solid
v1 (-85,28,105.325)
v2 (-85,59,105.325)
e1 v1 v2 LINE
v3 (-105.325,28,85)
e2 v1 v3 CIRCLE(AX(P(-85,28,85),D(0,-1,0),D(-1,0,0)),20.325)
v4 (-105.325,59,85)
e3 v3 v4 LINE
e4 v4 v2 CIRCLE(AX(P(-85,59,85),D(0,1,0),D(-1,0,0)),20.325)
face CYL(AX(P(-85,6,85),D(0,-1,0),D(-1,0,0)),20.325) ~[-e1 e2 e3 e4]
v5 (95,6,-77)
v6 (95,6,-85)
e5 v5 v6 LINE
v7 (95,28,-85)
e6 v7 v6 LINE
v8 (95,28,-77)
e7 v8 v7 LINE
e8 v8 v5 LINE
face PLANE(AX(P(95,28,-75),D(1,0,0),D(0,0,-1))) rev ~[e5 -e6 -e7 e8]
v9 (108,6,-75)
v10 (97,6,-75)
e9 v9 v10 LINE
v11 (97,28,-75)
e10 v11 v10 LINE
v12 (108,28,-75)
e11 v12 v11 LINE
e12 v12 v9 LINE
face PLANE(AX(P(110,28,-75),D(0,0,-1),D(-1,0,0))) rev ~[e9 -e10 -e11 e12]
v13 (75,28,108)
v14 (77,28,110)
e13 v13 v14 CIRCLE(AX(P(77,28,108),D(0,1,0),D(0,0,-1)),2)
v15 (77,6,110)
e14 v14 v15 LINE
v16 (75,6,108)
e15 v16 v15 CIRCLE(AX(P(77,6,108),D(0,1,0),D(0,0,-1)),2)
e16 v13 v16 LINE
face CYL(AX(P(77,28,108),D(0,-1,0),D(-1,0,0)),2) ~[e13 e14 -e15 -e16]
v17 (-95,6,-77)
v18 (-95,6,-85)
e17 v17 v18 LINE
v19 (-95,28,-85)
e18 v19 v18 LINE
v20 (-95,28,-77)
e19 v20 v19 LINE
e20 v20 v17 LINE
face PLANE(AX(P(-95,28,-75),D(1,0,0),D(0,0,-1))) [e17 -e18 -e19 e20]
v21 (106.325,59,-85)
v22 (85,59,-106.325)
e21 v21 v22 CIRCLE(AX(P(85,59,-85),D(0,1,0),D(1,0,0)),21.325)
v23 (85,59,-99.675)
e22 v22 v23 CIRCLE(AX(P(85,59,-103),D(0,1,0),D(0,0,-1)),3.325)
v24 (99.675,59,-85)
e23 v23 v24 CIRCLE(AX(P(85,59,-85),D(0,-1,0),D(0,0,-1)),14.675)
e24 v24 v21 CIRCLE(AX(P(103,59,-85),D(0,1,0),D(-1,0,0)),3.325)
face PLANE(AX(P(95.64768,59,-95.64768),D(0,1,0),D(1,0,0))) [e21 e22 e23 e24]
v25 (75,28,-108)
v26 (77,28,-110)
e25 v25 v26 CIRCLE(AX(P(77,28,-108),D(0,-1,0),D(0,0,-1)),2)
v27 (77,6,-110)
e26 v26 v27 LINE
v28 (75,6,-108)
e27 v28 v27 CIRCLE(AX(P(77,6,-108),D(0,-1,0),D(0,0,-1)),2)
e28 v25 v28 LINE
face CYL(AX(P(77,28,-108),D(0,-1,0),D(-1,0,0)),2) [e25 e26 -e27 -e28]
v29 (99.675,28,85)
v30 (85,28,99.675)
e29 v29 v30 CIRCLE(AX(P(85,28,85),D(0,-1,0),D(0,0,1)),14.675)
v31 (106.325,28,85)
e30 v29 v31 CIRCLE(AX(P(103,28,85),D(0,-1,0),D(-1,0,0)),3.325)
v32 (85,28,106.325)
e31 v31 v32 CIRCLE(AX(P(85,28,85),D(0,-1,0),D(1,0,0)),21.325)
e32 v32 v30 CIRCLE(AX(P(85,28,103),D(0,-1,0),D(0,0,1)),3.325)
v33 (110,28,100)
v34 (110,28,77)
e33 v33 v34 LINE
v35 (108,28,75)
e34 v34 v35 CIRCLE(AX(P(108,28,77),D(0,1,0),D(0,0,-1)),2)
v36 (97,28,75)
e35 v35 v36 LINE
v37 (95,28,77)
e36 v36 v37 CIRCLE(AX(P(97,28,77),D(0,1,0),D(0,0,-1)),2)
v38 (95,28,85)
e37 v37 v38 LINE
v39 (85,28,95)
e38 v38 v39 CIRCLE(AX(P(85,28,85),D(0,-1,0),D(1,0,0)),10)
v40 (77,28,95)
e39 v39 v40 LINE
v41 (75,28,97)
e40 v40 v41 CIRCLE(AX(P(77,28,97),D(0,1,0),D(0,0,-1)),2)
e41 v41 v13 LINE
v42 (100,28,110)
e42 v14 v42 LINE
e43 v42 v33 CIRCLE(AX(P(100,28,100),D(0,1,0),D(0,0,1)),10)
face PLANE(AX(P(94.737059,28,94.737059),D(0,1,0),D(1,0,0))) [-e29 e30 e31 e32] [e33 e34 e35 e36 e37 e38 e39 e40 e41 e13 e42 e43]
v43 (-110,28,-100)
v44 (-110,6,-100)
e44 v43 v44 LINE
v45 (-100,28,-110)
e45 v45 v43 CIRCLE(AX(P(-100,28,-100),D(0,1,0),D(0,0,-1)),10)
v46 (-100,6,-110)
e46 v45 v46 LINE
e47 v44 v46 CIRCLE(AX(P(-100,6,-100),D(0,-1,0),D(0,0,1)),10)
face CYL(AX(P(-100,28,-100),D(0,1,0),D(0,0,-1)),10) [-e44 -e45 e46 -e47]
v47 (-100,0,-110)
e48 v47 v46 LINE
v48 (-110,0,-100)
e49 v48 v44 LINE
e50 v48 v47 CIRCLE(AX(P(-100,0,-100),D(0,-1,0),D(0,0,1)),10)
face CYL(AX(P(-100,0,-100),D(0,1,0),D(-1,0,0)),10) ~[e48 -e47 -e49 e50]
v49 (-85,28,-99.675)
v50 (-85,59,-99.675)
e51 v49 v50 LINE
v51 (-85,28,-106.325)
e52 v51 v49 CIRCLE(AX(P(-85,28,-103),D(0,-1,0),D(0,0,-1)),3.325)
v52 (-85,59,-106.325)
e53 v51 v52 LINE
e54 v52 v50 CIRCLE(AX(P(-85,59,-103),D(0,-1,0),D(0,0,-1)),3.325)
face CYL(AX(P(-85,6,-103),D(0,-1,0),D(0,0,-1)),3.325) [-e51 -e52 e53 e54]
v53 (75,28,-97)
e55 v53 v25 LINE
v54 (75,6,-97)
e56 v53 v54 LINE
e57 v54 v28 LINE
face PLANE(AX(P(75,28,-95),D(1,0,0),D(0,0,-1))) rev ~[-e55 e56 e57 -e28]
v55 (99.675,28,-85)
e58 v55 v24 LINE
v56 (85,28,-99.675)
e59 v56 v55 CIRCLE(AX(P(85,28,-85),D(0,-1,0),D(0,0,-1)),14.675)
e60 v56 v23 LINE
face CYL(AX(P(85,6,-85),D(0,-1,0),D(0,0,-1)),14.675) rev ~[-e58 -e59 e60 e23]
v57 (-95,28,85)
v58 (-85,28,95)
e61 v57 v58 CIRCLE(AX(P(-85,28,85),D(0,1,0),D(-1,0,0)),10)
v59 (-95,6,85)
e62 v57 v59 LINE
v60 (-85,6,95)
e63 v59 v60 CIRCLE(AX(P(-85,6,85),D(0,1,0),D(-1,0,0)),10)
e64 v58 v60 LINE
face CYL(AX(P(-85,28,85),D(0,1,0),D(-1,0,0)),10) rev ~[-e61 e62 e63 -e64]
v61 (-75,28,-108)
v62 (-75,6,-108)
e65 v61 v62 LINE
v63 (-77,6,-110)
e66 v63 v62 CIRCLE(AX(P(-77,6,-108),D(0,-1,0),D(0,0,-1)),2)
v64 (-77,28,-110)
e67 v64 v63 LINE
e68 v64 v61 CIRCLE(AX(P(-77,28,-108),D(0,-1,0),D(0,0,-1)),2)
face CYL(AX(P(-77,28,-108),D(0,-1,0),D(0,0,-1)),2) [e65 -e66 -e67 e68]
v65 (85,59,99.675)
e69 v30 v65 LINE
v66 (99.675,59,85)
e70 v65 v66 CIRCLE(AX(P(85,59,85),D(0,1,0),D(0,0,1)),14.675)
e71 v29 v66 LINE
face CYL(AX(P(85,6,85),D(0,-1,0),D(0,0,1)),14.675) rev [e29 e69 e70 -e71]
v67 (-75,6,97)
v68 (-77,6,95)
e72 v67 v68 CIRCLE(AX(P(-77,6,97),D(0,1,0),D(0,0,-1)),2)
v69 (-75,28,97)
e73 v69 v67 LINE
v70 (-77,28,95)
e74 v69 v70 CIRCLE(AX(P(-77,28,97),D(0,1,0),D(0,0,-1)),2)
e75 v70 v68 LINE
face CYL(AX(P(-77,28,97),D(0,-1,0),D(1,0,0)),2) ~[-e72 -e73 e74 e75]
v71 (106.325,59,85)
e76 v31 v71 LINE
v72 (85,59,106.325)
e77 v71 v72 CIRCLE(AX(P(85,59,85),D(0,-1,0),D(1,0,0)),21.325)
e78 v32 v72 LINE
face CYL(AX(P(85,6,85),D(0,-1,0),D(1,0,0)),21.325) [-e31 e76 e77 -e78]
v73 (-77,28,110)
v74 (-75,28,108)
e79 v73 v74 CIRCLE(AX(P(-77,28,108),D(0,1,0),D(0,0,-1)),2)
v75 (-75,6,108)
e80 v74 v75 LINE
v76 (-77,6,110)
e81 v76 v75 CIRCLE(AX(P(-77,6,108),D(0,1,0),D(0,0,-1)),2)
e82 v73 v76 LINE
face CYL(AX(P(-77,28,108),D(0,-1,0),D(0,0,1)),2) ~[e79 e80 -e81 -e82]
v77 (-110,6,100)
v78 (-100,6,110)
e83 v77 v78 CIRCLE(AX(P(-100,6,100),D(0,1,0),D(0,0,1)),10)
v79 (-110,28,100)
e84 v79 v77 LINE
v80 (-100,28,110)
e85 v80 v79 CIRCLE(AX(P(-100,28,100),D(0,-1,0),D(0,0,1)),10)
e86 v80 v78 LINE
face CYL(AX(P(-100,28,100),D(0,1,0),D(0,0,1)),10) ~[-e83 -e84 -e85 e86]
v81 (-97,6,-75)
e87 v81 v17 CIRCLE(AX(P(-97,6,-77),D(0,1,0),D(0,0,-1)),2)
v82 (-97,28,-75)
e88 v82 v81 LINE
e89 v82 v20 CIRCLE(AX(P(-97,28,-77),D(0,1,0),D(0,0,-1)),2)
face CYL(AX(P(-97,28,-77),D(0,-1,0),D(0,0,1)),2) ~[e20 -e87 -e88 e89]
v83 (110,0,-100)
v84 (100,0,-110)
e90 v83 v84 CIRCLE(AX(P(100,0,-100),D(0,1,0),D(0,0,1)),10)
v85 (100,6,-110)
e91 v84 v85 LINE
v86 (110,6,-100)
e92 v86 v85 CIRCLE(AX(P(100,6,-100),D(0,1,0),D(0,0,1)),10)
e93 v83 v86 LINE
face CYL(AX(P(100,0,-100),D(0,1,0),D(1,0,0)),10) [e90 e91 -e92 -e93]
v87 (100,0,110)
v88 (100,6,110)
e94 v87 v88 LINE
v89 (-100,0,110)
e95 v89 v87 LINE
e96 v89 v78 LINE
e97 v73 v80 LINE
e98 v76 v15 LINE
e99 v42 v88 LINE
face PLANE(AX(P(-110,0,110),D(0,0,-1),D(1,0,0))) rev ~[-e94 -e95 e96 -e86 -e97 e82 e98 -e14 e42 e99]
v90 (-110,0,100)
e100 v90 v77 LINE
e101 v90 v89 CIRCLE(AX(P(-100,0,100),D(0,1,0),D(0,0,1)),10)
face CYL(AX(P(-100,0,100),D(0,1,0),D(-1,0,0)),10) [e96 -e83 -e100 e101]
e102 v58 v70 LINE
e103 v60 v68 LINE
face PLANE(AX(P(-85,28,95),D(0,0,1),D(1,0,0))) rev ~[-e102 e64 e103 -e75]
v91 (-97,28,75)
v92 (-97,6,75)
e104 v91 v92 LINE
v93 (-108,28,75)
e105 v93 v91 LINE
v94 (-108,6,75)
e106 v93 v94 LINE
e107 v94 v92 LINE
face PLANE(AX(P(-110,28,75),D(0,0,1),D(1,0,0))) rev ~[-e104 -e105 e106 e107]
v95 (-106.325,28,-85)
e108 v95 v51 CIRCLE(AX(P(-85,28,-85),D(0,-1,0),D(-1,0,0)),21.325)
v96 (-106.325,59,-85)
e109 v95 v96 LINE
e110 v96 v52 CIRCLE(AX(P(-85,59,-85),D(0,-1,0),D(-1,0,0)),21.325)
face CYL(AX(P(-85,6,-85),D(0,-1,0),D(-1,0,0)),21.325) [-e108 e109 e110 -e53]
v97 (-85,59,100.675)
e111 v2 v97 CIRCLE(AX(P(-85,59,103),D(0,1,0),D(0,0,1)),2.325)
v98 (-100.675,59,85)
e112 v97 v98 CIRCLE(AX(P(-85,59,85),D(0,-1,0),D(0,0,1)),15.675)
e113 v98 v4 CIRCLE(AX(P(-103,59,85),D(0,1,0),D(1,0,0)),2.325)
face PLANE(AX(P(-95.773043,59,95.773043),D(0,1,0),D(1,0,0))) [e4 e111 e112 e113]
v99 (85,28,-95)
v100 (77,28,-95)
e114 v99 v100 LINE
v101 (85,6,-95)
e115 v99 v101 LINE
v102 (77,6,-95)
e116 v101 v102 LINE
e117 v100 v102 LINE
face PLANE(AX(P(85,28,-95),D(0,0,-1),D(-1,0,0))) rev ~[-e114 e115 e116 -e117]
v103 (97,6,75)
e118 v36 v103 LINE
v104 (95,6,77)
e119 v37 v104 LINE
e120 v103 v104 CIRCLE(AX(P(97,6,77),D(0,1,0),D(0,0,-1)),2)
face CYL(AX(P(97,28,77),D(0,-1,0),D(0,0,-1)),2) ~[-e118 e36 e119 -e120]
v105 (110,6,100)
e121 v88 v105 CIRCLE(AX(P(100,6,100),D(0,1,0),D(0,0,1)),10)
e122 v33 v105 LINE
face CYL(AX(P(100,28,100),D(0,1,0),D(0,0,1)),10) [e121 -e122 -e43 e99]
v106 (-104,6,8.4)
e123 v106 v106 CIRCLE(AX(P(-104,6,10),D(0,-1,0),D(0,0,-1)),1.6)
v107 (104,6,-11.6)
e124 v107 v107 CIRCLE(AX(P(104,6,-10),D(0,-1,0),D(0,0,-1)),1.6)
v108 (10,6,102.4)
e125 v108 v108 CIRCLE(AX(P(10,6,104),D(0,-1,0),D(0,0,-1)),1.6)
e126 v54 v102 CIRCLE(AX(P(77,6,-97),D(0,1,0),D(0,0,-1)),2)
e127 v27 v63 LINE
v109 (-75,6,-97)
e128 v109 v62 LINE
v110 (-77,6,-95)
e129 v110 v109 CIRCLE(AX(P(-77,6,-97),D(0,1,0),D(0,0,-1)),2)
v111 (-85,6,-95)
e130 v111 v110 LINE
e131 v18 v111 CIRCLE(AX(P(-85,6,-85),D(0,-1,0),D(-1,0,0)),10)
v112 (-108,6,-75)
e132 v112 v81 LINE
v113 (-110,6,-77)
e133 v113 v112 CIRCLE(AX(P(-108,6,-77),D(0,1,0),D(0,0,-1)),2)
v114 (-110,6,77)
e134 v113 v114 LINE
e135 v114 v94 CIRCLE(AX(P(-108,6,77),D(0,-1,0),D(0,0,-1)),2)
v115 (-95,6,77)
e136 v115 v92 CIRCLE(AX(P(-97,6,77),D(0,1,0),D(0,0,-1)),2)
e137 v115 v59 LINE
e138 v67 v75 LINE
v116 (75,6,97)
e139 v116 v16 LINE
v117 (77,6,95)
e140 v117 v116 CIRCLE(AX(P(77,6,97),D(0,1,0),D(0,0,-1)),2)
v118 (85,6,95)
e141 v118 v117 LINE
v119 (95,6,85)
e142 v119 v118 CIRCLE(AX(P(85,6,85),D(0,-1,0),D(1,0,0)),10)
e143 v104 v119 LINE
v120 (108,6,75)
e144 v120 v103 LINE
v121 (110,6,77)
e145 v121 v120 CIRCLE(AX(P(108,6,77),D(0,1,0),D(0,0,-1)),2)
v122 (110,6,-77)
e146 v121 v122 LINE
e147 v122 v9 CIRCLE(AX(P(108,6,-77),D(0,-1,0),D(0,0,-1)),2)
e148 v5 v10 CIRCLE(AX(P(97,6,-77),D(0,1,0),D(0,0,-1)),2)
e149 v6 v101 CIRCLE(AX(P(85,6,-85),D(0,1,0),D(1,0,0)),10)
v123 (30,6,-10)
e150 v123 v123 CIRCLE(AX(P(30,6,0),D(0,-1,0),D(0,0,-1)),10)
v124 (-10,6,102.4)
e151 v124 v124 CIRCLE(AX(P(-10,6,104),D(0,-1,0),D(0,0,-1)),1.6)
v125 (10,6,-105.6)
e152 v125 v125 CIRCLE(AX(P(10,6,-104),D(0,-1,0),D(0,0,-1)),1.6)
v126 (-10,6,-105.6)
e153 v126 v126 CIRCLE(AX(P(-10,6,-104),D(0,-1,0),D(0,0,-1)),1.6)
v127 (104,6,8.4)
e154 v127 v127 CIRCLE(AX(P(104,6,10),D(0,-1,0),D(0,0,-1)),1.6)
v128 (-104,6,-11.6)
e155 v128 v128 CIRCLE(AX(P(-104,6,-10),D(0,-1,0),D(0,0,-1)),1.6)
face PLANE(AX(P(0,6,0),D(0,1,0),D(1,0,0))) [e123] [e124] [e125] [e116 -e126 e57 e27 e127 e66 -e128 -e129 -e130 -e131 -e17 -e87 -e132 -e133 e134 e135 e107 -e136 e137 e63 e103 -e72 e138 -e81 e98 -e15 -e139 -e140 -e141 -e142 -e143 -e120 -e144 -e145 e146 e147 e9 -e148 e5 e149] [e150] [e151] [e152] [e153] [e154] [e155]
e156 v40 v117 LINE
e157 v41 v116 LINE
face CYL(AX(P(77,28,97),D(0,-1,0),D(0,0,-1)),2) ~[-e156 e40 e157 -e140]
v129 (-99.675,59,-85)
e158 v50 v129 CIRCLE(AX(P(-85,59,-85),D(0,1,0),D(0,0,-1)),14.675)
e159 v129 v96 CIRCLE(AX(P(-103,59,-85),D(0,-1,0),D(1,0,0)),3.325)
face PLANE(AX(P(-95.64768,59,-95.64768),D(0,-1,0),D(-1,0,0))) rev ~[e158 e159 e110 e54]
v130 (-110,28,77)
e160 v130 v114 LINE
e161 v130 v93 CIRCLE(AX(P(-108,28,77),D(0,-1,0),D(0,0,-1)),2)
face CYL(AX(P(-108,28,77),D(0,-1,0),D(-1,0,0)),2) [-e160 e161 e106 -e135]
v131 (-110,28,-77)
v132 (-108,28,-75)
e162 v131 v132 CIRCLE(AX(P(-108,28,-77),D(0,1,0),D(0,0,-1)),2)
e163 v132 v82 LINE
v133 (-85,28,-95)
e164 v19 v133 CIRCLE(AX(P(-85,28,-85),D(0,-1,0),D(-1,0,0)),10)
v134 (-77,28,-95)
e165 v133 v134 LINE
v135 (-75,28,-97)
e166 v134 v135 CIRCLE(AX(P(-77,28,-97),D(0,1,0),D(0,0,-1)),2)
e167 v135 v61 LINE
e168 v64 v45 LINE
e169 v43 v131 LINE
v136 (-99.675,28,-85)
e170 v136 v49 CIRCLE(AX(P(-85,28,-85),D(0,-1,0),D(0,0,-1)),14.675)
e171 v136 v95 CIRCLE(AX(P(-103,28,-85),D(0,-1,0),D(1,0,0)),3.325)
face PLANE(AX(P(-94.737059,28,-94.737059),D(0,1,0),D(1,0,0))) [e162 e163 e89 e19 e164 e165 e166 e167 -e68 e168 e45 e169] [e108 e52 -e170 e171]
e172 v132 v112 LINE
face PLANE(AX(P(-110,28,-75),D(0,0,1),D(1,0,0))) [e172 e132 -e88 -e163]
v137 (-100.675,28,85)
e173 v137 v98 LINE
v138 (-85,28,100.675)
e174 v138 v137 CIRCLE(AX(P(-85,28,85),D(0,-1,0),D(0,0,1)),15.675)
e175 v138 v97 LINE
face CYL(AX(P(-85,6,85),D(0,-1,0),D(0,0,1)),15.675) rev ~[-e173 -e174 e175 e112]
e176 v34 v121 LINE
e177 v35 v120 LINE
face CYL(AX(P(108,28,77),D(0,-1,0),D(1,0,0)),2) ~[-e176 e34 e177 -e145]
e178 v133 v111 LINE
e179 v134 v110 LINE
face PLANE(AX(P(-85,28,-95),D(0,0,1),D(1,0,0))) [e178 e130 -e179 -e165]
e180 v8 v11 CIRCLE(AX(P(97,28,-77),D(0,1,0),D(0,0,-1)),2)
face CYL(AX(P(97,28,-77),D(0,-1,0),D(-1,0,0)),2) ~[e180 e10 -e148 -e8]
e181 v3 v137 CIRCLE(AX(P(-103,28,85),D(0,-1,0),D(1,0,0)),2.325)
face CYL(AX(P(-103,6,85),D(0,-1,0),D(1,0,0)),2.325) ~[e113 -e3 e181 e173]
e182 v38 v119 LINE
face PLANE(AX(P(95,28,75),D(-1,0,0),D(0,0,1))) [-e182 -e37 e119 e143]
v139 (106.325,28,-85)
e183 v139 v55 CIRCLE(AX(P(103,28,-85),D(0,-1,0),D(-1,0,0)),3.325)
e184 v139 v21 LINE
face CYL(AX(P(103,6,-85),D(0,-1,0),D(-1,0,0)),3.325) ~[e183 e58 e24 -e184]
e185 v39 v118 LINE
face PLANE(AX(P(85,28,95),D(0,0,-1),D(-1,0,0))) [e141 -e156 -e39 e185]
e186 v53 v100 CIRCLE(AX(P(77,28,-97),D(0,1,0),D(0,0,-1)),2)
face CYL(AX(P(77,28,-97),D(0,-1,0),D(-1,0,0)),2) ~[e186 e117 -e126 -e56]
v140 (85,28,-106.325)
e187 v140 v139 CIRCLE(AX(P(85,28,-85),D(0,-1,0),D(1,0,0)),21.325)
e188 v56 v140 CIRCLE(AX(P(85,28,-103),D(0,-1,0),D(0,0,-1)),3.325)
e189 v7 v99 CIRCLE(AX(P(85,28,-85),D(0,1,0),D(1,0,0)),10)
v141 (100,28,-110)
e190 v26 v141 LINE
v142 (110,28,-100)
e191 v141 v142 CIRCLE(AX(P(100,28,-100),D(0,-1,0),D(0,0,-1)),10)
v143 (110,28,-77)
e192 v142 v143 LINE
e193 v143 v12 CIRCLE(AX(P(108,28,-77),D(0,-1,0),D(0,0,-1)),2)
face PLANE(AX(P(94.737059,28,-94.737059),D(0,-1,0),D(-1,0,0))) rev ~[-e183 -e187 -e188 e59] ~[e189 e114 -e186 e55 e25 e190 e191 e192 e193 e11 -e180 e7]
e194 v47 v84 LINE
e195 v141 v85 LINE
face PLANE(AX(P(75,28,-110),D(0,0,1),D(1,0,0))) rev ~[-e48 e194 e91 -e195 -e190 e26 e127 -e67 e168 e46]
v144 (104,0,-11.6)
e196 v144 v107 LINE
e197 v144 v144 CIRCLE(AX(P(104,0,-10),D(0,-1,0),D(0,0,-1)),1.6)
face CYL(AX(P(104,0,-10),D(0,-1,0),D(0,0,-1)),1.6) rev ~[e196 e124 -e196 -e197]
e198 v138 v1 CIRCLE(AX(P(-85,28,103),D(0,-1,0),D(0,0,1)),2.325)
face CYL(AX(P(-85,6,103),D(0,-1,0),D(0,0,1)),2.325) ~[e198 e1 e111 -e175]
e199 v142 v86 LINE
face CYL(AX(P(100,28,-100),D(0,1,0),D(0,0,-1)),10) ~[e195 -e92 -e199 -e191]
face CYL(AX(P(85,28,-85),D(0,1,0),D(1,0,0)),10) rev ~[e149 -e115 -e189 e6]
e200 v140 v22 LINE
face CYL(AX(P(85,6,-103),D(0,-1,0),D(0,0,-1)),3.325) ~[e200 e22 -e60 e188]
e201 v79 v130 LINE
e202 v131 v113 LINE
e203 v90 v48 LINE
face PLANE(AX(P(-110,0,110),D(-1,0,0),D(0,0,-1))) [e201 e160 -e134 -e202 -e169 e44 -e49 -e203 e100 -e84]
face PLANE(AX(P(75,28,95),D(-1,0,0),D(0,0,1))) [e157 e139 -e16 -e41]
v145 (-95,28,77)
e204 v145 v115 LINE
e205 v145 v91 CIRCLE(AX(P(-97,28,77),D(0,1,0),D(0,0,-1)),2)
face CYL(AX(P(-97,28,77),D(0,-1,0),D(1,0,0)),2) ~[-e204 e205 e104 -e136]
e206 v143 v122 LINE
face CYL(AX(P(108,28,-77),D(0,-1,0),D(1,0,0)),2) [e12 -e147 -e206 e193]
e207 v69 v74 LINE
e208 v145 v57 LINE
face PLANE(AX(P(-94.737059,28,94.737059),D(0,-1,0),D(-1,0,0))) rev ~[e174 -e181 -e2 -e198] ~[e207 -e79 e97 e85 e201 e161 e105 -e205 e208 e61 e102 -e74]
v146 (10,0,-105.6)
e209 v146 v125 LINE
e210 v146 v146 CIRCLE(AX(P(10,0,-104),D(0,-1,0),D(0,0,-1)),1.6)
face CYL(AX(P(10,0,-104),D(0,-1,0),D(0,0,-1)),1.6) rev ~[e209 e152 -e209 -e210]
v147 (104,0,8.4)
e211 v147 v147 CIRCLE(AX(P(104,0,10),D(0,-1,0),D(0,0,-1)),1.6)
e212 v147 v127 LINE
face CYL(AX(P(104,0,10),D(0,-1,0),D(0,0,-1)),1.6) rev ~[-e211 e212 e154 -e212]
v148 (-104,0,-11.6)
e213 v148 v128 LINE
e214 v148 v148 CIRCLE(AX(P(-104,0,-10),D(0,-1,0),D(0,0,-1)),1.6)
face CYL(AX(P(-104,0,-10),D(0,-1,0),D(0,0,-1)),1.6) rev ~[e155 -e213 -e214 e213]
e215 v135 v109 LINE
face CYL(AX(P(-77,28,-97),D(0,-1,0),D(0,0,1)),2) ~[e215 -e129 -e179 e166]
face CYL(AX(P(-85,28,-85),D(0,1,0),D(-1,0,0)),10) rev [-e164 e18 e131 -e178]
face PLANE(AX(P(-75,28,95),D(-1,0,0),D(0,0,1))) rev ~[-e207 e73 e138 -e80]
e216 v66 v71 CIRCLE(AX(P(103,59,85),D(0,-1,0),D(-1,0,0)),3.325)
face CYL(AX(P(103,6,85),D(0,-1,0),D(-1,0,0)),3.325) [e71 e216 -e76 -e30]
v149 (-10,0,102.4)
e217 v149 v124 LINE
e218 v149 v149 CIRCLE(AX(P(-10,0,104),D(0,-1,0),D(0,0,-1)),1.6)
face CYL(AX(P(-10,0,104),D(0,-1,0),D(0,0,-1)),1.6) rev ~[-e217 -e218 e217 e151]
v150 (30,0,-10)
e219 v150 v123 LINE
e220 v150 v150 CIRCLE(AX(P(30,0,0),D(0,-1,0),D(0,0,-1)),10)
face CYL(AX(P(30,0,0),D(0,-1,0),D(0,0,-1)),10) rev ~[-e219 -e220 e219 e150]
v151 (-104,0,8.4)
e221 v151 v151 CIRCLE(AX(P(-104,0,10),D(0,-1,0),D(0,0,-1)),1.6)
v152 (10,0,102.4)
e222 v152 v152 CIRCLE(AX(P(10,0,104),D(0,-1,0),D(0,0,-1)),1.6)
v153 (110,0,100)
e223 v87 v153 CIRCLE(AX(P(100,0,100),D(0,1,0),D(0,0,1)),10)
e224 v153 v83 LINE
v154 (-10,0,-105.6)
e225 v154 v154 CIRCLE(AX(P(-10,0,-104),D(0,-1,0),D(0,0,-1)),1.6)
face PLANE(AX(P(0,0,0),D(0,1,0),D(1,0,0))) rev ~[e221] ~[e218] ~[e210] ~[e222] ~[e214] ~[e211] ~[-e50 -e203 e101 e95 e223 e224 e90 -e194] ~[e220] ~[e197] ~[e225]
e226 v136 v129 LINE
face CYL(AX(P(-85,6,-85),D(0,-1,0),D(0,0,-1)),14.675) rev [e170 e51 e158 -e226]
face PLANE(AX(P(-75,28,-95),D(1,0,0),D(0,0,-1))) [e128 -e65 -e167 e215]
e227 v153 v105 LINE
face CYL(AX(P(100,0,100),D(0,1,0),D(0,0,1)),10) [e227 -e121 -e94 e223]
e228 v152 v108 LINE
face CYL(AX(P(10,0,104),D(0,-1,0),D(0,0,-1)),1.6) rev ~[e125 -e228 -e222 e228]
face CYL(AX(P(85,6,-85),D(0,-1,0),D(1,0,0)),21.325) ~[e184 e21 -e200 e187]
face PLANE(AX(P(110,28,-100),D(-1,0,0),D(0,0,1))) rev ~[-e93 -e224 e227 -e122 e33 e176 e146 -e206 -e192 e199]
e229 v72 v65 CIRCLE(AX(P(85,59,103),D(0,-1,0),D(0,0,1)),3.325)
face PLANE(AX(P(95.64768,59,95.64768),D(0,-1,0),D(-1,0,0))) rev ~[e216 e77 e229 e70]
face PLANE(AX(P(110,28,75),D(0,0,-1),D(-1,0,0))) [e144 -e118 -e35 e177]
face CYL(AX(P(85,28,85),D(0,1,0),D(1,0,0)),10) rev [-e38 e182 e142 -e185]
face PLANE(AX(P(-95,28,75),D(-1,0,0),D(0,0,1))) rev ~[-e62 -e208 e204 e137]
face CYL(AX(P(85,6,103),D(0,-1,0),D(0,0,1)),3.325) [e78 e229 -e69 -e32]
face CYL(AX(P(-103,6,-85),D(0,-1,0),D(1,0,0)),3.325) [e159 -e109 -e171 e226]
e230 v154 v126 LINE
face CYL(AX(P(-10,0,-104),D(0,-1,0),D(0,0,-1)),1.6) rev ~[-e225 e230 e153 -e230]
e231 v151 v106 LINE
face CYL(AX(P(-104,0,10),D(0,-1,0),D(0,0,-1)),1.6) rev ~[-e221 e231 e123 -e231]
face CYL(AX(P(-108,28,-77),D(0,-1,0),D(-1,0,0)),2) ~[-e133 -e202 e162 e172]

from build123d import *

# Parameters (mm, degrees)
SKETCH2_W           = 220
SKETCH2_H           = 220
BOSS_EXTRUDE1_DEPTH = 6
FILLET1_R           = 10
BOSS_EXTRUDE3_DEPTH = 53
BOSS_EXTRUDE4_START = 22
BOSS_EXTRUDE4_DEPTH = 22
FILLET2_R           = 2
CUT_EXTRUDE2_REACH  = 168.376
SKETCH7_R           = 10
CUT_EXTRUDE3_REACH  = 168.376
SKETCH8_R           = 1.6


with BuildPart() as part:
    # Sketch2 → Boss-Extrude1 (new body)
    with BuildSketch(Plane(origin=(0, 0, 0), x_dir=(1, 0, 0), z_dir=(0, 1, 0))):
        Rectangle(SKETCH2_W, SKETCH2_H)
    extrude(amount=BOSS_EXTRUDE1_DEPTH)

    # Fillet1
    fillet1_edges = [part.edges().sort_by_distance(p)[0] for p in [
        (110, 3, 110),
        (-110, 3, 110),
        (-110, 3, -110),
        (110, 3, -110),
    ]]
    fillet(fillet1_edges, radius=FILLET1_R)

    # Sketch4 → Boss-Extrude3 (add)
    with BuildSketch(Plane(origin=(0, 6, 0), x_dir=(1, 0, 0), z_dir=(0, 1, 0))):
        with BuildLine():
            ThreePointArc((-105.325, -85), (-99.371945328, -99.371945328), (-85, -105.325))
            ThreePointArc((-85, -105.325), (-82.675, -103), (-85, -100.675))
            ThreePointArc((-85, -100.675), (-96.083898795, -96.083898795), (-100.675, -85))
            ThreePointArc((-100.675, -85), (-103, -82.675), (-105.325, -85))
        make_face()
        with BuildLine():
            ThreePointArc((106.325, -85), (100.079052109, -100.079052109), (85, -106.325))
            ThreePointArc((85, -106.325), (81.675, -103), (85, -99.675))
            ThreePointArc((85, -99.675), (95.376792014, -95.376792014), (99.675, -85))
            ThreePointArc((99.675, -85), (103, -81.675), (106.325, -85))
        make_face()
        with BuildLine():
            ThreePointArc((106.325, 85), (100.079052109, 100.079052109), (85, 106.325))
            ThreePointArc((85, 106.325), (81.675, 103), (85, 99.675))
            ThreePointArc((85, 99.675), (95.376792014, 95.376792014), (99.675, 85))
            ThreePointArc((99.675, 85), (103, 81.675), (106.325, 85))
        make_face()
        with BuildLine():
            ThreePointArc((-106.325, 85), (-100.079052109, 100.079052109), (-85, 106.325))
            ThreePointArc((-85, 106.325), (-81.675, 103), (-85, 99.675))
            ThreePointArc((-85, 99.675), (-95.376792014, 95.376792014), (-99.675, 85))
            ThreePointArc((-99.675, 85), (-103, 81.675), (-106.325, 85))
        make_face()
    extrude(amount=BOSS_EXTRUDE3_DEPTH)

    # Sketch3 → Boss-Extrude4 (add)
    with BuildSketch(Plane(origin=(0, 6, 0), x_dir=(1, 0, 0), z_dir=(0, 1, 0)).offset(BOSS_EXTRUDE4_START)):
        with BuildLine():
            Line((75, 95), (75, 110))
            Line((75, 110), (100, 110))
            ThreePointArc((100, 110), (107.071067812, 107.071067812), (110, 100))
            Line((110, 100), (110, 75))
            Line((110, 75), (95, 75))
            Line((95, 75), (95, 85))
            ThreePointArc((95, 85), (92.071067812, 92.071067812), (85, 95))
            Line((85, 95), (75, 95))
        make_face()
        with BuildLine():
            Line((-75, 110), (-100, 110))
            ThreePointArc((-100, 110), (-107.071067812, 107.071067812), (-110, 100))
            Line((-110, 100), (-110, 75))
            Line((-110, 75), (-95, 75))
            Line((-95, 75), (-95, 85))
            ThreePointArc((-95, 85), (-92.071067812, 92.071067812), (-85, 95))
            Line((-85, 95), (-75, 95))
            Line((-75, 95), (-75, 110))
        make_face()
        with BuildLine():
            Line((-75, -95), (-75, -110))
            Line((-75, -110), (-100, -110))
            ThreePointArc((-100, -110), (-107.071067812, -107.071067812), (-110, -100))
            Line((-110, -100), (-110, -75))
            Line((-110, -75), (-95, -75))
            Line((-95, -75), (-95, -85))
            ThreePointArc((-95, -85), (-92.071067812, -92.071067812), (-85, -95))
            Line((-85, -95), (-75, -95))
        make_face()
        with BuildLine():
            Line((75, -110), (100, -110))
            ThreePointArc((100, -110), (107.071067812, -107.071067812), (110, -100))
            Line((110, -100), (110, -75))
            Line((110, -75), (95, -75))
            Line((95, -75), (95, -85))
            ThreePointArc((95, -85), (92.071067812, -92.071067812), (85, -95))
            Line((85, -95), (75, -95))
            Line((75, -95), (75, -110))
        make_face()
    extrude(amount=-BOSS_EXTRUDE4_DEPTH)

    # Fillet2
    fillet2_edges = [part.edges().sort_by_distance(p)[0] for p in [
        (75, 17, -95),
        (95, 17, -75),
        (110, 17, -75),
        (75, 17, -110),
        (-110, 17, -75),
        (-95, 17, -75),
        (-75, 17, -95),
        (-75, 17, -110),
        (-95, 17, 75),
        (-110, 17, 75),
        (-75, 17, 110),
        (-75, 17, 95),
        (110, 17, 75),
        (95, 17, 75),
        (75, 17, 95),
        (75, 17, 110),
    ]]
    fillet(fillet2_edges, radius=FILLET2_R)

    # Sketch7 → Cut-Extrude2 (cut, up to next)
    with BuildSketch(Plane.XZ, mode=Mode.PRIVATE) as cut_extrude2_sk1:
        with Locations(Location((30, 0, 0), (0, 0, 270))):
            Circle(SKETCH7_R)
    cut_extrude2_tool1 = extrude(cut_extrude2_sk1.sketch, amount=-CUT_EXTRUDE2_REACH, mode=Mode.PRIVATE) & part.part
    add(cut_extrude2_tool1.solids().sort_by_distance((30, 0, 0))[0], mode=Mode.SUBTRACT)

    # Sketch8 → Cut-Extrude3 (cut, up to next)
    with BuildSketch(Plane.XZ, mode=Mode.PRIVATE) as cut_extrude3_sk1:
        with Locations(Location((-104, 10, 0), (0, 0, 270))):
            Circle(SKETCH8_R)
    cut_extrude3_tool1 = extrude(cut_extrude3_sk1.sketch, amount=-CUT_EXTRUDE3_REACH, mode=Mode.PRIVATE) & part.part
    # Sketch8 → Cut-Extrude3 (cut, up to next)
    with BuildSketch(Plane.XZ, mode=Mode.PRIVATE) as cut_extrude3_sk2:
        with Locations(Location((-104, -10, 0), (0, 0, 270))):
            Circle(SKETCH8_R)
    cut_extrude3_tool2 = extrude(cut_extrude3_sk2.sketch, amount=-CUT_EXTRUDE3_REACH, mode=Mode.PRIVATE) & part.part
    # Sketch8 → Cut-Extrude3 (cut, up to next)
    with BuildSketch(Plane.XZ, mode=Mode.PRIVATE) as cut_extrude3_sk3:
        with Locations(Location((-10, 104, 0), (0, 0, 270))):
            Circle(SKETCH8_R)
    cut_extrude3_tool3 = extrude(cut_extrude3_sk3.sketch, amount=-CUT_EXTRUDE3_REACH, mode=Mode.PRIVATE) & part.part
    # Sketch8 → Cut-Extrude3 (cut, up to next)
    with BuildSketch(Plane.XZ, mode=Mode.PRIVATE) as cut_extrude3_sk4:
        with Locations(Location((10, 104, 0), (0, 0, 270))):
            Circle(SKETCH8_R)
    cut_extrude3_tool4 = extrude(cut_extrude3_sk4.sketch, amount=-CUT_EXTRUDE3_REACH, mode=Mode.PRIVATE) & part.part
    # Sketch8 → Cut-Extrude3 (cut, up to next)
    with BuildSketch(Plane.XZ, mode=Mode.PRIVATE) as cut_extrude3_sk5:
        with Locations(Location((104, 10, 0), (0, 0, 270))):
            Circle(SKETCH8_R)
    cut_extrude3_tool5 = extrude(cut_extrude3_sk5.sketch, amount=-CUT_EXTRUDE3_REACH, mode=Mode.PRIVATE) & part.part
    # Sketch8 → Cut-Extrude3 (cut, up to next)
    with BuildSketch(Plane.XZ, mode=Mode.PRIVATE) as cut_extrude3_sk6:
        with Locations(Location((104, -10, 0), (0, 0, 270))):
            Circle(SKETCH8_R)
    cut_extrude3_tool6 = extrude(cut_extrude3_sk6.sketch, amount=-CUT_EXTRUDE3_REACH, mode=Mode.PRIVATE) & part.part
    # Sketch8 → Cut-Extrude3 (cut, up to next)
    with BuildSketch(Plane.XZ, mode=Mode.PRIVATE) as cut_extrude3_sk7:
        with Locations(Location((10, -104, 0), (0, 0, 270))):
            Circle(SKETCH8_R)
    cut_extrude3_tool7 = extrude(cut_extrude3_sk7.sketch, amount=-CUT_EXTRUDE3_REACH, mode=Mode.PRIVATE) & part.part
    # Sketch8 → Cut-Extrude3 (cut, up to next)
    with BuildSketch(Plane.XZ, mode=Mode.PRIVATE) as cut_extrude3_sk8:
        with Locations(Location((-10, -104, 0), (0, 0, 270))):
            Circle(SKETCH8_R)
    cut_extrude3_tool8 = extrude(cut_extrude3_sk8.sketch, amount=-CUT_EXTRUDE3_REACH, mode=Mode.PRIVATE) & part.part
    add(cut_extrude3_tool1.solids().sort_by_distance((-104, 0, 10))[0], mode=Mode.SUBTRACT)
    add(cut_extrude3_tool2.solids().sort_by_distance((-104, 0, -10))[0], mode=Mode.SUBTRACT)
    add(cut_extrude3_tool3.solids().sort_by_distance((-10, 0, 104))[0], mode=Mode.SUBTRACT)
    add(cut_extrude3_tool4.solids().sort_by_distance((10, 0, 104))[0], mode=Mode.SUBTRACT)
    add(cut_extrude3_tool5.solids().sort_by_distance((104, 0, 10))[0], mode=Mode.SUBTRACT)
    add(cut_extrude3_tool6.solids().sort_by_distance((104, 0, -10))[0], mode=Mode.SUBTRACT)
    add(cut_extrude3_tool7.solids().sort_by_distance((10, 0, -104))[0], mode=Mode.SUBTRACT)
    add(cut_extrude3_tool8.solids().sort_by_distance((-10, 0, -104))[0], mode=Mode.SUBTRACT)


solid = part.part
